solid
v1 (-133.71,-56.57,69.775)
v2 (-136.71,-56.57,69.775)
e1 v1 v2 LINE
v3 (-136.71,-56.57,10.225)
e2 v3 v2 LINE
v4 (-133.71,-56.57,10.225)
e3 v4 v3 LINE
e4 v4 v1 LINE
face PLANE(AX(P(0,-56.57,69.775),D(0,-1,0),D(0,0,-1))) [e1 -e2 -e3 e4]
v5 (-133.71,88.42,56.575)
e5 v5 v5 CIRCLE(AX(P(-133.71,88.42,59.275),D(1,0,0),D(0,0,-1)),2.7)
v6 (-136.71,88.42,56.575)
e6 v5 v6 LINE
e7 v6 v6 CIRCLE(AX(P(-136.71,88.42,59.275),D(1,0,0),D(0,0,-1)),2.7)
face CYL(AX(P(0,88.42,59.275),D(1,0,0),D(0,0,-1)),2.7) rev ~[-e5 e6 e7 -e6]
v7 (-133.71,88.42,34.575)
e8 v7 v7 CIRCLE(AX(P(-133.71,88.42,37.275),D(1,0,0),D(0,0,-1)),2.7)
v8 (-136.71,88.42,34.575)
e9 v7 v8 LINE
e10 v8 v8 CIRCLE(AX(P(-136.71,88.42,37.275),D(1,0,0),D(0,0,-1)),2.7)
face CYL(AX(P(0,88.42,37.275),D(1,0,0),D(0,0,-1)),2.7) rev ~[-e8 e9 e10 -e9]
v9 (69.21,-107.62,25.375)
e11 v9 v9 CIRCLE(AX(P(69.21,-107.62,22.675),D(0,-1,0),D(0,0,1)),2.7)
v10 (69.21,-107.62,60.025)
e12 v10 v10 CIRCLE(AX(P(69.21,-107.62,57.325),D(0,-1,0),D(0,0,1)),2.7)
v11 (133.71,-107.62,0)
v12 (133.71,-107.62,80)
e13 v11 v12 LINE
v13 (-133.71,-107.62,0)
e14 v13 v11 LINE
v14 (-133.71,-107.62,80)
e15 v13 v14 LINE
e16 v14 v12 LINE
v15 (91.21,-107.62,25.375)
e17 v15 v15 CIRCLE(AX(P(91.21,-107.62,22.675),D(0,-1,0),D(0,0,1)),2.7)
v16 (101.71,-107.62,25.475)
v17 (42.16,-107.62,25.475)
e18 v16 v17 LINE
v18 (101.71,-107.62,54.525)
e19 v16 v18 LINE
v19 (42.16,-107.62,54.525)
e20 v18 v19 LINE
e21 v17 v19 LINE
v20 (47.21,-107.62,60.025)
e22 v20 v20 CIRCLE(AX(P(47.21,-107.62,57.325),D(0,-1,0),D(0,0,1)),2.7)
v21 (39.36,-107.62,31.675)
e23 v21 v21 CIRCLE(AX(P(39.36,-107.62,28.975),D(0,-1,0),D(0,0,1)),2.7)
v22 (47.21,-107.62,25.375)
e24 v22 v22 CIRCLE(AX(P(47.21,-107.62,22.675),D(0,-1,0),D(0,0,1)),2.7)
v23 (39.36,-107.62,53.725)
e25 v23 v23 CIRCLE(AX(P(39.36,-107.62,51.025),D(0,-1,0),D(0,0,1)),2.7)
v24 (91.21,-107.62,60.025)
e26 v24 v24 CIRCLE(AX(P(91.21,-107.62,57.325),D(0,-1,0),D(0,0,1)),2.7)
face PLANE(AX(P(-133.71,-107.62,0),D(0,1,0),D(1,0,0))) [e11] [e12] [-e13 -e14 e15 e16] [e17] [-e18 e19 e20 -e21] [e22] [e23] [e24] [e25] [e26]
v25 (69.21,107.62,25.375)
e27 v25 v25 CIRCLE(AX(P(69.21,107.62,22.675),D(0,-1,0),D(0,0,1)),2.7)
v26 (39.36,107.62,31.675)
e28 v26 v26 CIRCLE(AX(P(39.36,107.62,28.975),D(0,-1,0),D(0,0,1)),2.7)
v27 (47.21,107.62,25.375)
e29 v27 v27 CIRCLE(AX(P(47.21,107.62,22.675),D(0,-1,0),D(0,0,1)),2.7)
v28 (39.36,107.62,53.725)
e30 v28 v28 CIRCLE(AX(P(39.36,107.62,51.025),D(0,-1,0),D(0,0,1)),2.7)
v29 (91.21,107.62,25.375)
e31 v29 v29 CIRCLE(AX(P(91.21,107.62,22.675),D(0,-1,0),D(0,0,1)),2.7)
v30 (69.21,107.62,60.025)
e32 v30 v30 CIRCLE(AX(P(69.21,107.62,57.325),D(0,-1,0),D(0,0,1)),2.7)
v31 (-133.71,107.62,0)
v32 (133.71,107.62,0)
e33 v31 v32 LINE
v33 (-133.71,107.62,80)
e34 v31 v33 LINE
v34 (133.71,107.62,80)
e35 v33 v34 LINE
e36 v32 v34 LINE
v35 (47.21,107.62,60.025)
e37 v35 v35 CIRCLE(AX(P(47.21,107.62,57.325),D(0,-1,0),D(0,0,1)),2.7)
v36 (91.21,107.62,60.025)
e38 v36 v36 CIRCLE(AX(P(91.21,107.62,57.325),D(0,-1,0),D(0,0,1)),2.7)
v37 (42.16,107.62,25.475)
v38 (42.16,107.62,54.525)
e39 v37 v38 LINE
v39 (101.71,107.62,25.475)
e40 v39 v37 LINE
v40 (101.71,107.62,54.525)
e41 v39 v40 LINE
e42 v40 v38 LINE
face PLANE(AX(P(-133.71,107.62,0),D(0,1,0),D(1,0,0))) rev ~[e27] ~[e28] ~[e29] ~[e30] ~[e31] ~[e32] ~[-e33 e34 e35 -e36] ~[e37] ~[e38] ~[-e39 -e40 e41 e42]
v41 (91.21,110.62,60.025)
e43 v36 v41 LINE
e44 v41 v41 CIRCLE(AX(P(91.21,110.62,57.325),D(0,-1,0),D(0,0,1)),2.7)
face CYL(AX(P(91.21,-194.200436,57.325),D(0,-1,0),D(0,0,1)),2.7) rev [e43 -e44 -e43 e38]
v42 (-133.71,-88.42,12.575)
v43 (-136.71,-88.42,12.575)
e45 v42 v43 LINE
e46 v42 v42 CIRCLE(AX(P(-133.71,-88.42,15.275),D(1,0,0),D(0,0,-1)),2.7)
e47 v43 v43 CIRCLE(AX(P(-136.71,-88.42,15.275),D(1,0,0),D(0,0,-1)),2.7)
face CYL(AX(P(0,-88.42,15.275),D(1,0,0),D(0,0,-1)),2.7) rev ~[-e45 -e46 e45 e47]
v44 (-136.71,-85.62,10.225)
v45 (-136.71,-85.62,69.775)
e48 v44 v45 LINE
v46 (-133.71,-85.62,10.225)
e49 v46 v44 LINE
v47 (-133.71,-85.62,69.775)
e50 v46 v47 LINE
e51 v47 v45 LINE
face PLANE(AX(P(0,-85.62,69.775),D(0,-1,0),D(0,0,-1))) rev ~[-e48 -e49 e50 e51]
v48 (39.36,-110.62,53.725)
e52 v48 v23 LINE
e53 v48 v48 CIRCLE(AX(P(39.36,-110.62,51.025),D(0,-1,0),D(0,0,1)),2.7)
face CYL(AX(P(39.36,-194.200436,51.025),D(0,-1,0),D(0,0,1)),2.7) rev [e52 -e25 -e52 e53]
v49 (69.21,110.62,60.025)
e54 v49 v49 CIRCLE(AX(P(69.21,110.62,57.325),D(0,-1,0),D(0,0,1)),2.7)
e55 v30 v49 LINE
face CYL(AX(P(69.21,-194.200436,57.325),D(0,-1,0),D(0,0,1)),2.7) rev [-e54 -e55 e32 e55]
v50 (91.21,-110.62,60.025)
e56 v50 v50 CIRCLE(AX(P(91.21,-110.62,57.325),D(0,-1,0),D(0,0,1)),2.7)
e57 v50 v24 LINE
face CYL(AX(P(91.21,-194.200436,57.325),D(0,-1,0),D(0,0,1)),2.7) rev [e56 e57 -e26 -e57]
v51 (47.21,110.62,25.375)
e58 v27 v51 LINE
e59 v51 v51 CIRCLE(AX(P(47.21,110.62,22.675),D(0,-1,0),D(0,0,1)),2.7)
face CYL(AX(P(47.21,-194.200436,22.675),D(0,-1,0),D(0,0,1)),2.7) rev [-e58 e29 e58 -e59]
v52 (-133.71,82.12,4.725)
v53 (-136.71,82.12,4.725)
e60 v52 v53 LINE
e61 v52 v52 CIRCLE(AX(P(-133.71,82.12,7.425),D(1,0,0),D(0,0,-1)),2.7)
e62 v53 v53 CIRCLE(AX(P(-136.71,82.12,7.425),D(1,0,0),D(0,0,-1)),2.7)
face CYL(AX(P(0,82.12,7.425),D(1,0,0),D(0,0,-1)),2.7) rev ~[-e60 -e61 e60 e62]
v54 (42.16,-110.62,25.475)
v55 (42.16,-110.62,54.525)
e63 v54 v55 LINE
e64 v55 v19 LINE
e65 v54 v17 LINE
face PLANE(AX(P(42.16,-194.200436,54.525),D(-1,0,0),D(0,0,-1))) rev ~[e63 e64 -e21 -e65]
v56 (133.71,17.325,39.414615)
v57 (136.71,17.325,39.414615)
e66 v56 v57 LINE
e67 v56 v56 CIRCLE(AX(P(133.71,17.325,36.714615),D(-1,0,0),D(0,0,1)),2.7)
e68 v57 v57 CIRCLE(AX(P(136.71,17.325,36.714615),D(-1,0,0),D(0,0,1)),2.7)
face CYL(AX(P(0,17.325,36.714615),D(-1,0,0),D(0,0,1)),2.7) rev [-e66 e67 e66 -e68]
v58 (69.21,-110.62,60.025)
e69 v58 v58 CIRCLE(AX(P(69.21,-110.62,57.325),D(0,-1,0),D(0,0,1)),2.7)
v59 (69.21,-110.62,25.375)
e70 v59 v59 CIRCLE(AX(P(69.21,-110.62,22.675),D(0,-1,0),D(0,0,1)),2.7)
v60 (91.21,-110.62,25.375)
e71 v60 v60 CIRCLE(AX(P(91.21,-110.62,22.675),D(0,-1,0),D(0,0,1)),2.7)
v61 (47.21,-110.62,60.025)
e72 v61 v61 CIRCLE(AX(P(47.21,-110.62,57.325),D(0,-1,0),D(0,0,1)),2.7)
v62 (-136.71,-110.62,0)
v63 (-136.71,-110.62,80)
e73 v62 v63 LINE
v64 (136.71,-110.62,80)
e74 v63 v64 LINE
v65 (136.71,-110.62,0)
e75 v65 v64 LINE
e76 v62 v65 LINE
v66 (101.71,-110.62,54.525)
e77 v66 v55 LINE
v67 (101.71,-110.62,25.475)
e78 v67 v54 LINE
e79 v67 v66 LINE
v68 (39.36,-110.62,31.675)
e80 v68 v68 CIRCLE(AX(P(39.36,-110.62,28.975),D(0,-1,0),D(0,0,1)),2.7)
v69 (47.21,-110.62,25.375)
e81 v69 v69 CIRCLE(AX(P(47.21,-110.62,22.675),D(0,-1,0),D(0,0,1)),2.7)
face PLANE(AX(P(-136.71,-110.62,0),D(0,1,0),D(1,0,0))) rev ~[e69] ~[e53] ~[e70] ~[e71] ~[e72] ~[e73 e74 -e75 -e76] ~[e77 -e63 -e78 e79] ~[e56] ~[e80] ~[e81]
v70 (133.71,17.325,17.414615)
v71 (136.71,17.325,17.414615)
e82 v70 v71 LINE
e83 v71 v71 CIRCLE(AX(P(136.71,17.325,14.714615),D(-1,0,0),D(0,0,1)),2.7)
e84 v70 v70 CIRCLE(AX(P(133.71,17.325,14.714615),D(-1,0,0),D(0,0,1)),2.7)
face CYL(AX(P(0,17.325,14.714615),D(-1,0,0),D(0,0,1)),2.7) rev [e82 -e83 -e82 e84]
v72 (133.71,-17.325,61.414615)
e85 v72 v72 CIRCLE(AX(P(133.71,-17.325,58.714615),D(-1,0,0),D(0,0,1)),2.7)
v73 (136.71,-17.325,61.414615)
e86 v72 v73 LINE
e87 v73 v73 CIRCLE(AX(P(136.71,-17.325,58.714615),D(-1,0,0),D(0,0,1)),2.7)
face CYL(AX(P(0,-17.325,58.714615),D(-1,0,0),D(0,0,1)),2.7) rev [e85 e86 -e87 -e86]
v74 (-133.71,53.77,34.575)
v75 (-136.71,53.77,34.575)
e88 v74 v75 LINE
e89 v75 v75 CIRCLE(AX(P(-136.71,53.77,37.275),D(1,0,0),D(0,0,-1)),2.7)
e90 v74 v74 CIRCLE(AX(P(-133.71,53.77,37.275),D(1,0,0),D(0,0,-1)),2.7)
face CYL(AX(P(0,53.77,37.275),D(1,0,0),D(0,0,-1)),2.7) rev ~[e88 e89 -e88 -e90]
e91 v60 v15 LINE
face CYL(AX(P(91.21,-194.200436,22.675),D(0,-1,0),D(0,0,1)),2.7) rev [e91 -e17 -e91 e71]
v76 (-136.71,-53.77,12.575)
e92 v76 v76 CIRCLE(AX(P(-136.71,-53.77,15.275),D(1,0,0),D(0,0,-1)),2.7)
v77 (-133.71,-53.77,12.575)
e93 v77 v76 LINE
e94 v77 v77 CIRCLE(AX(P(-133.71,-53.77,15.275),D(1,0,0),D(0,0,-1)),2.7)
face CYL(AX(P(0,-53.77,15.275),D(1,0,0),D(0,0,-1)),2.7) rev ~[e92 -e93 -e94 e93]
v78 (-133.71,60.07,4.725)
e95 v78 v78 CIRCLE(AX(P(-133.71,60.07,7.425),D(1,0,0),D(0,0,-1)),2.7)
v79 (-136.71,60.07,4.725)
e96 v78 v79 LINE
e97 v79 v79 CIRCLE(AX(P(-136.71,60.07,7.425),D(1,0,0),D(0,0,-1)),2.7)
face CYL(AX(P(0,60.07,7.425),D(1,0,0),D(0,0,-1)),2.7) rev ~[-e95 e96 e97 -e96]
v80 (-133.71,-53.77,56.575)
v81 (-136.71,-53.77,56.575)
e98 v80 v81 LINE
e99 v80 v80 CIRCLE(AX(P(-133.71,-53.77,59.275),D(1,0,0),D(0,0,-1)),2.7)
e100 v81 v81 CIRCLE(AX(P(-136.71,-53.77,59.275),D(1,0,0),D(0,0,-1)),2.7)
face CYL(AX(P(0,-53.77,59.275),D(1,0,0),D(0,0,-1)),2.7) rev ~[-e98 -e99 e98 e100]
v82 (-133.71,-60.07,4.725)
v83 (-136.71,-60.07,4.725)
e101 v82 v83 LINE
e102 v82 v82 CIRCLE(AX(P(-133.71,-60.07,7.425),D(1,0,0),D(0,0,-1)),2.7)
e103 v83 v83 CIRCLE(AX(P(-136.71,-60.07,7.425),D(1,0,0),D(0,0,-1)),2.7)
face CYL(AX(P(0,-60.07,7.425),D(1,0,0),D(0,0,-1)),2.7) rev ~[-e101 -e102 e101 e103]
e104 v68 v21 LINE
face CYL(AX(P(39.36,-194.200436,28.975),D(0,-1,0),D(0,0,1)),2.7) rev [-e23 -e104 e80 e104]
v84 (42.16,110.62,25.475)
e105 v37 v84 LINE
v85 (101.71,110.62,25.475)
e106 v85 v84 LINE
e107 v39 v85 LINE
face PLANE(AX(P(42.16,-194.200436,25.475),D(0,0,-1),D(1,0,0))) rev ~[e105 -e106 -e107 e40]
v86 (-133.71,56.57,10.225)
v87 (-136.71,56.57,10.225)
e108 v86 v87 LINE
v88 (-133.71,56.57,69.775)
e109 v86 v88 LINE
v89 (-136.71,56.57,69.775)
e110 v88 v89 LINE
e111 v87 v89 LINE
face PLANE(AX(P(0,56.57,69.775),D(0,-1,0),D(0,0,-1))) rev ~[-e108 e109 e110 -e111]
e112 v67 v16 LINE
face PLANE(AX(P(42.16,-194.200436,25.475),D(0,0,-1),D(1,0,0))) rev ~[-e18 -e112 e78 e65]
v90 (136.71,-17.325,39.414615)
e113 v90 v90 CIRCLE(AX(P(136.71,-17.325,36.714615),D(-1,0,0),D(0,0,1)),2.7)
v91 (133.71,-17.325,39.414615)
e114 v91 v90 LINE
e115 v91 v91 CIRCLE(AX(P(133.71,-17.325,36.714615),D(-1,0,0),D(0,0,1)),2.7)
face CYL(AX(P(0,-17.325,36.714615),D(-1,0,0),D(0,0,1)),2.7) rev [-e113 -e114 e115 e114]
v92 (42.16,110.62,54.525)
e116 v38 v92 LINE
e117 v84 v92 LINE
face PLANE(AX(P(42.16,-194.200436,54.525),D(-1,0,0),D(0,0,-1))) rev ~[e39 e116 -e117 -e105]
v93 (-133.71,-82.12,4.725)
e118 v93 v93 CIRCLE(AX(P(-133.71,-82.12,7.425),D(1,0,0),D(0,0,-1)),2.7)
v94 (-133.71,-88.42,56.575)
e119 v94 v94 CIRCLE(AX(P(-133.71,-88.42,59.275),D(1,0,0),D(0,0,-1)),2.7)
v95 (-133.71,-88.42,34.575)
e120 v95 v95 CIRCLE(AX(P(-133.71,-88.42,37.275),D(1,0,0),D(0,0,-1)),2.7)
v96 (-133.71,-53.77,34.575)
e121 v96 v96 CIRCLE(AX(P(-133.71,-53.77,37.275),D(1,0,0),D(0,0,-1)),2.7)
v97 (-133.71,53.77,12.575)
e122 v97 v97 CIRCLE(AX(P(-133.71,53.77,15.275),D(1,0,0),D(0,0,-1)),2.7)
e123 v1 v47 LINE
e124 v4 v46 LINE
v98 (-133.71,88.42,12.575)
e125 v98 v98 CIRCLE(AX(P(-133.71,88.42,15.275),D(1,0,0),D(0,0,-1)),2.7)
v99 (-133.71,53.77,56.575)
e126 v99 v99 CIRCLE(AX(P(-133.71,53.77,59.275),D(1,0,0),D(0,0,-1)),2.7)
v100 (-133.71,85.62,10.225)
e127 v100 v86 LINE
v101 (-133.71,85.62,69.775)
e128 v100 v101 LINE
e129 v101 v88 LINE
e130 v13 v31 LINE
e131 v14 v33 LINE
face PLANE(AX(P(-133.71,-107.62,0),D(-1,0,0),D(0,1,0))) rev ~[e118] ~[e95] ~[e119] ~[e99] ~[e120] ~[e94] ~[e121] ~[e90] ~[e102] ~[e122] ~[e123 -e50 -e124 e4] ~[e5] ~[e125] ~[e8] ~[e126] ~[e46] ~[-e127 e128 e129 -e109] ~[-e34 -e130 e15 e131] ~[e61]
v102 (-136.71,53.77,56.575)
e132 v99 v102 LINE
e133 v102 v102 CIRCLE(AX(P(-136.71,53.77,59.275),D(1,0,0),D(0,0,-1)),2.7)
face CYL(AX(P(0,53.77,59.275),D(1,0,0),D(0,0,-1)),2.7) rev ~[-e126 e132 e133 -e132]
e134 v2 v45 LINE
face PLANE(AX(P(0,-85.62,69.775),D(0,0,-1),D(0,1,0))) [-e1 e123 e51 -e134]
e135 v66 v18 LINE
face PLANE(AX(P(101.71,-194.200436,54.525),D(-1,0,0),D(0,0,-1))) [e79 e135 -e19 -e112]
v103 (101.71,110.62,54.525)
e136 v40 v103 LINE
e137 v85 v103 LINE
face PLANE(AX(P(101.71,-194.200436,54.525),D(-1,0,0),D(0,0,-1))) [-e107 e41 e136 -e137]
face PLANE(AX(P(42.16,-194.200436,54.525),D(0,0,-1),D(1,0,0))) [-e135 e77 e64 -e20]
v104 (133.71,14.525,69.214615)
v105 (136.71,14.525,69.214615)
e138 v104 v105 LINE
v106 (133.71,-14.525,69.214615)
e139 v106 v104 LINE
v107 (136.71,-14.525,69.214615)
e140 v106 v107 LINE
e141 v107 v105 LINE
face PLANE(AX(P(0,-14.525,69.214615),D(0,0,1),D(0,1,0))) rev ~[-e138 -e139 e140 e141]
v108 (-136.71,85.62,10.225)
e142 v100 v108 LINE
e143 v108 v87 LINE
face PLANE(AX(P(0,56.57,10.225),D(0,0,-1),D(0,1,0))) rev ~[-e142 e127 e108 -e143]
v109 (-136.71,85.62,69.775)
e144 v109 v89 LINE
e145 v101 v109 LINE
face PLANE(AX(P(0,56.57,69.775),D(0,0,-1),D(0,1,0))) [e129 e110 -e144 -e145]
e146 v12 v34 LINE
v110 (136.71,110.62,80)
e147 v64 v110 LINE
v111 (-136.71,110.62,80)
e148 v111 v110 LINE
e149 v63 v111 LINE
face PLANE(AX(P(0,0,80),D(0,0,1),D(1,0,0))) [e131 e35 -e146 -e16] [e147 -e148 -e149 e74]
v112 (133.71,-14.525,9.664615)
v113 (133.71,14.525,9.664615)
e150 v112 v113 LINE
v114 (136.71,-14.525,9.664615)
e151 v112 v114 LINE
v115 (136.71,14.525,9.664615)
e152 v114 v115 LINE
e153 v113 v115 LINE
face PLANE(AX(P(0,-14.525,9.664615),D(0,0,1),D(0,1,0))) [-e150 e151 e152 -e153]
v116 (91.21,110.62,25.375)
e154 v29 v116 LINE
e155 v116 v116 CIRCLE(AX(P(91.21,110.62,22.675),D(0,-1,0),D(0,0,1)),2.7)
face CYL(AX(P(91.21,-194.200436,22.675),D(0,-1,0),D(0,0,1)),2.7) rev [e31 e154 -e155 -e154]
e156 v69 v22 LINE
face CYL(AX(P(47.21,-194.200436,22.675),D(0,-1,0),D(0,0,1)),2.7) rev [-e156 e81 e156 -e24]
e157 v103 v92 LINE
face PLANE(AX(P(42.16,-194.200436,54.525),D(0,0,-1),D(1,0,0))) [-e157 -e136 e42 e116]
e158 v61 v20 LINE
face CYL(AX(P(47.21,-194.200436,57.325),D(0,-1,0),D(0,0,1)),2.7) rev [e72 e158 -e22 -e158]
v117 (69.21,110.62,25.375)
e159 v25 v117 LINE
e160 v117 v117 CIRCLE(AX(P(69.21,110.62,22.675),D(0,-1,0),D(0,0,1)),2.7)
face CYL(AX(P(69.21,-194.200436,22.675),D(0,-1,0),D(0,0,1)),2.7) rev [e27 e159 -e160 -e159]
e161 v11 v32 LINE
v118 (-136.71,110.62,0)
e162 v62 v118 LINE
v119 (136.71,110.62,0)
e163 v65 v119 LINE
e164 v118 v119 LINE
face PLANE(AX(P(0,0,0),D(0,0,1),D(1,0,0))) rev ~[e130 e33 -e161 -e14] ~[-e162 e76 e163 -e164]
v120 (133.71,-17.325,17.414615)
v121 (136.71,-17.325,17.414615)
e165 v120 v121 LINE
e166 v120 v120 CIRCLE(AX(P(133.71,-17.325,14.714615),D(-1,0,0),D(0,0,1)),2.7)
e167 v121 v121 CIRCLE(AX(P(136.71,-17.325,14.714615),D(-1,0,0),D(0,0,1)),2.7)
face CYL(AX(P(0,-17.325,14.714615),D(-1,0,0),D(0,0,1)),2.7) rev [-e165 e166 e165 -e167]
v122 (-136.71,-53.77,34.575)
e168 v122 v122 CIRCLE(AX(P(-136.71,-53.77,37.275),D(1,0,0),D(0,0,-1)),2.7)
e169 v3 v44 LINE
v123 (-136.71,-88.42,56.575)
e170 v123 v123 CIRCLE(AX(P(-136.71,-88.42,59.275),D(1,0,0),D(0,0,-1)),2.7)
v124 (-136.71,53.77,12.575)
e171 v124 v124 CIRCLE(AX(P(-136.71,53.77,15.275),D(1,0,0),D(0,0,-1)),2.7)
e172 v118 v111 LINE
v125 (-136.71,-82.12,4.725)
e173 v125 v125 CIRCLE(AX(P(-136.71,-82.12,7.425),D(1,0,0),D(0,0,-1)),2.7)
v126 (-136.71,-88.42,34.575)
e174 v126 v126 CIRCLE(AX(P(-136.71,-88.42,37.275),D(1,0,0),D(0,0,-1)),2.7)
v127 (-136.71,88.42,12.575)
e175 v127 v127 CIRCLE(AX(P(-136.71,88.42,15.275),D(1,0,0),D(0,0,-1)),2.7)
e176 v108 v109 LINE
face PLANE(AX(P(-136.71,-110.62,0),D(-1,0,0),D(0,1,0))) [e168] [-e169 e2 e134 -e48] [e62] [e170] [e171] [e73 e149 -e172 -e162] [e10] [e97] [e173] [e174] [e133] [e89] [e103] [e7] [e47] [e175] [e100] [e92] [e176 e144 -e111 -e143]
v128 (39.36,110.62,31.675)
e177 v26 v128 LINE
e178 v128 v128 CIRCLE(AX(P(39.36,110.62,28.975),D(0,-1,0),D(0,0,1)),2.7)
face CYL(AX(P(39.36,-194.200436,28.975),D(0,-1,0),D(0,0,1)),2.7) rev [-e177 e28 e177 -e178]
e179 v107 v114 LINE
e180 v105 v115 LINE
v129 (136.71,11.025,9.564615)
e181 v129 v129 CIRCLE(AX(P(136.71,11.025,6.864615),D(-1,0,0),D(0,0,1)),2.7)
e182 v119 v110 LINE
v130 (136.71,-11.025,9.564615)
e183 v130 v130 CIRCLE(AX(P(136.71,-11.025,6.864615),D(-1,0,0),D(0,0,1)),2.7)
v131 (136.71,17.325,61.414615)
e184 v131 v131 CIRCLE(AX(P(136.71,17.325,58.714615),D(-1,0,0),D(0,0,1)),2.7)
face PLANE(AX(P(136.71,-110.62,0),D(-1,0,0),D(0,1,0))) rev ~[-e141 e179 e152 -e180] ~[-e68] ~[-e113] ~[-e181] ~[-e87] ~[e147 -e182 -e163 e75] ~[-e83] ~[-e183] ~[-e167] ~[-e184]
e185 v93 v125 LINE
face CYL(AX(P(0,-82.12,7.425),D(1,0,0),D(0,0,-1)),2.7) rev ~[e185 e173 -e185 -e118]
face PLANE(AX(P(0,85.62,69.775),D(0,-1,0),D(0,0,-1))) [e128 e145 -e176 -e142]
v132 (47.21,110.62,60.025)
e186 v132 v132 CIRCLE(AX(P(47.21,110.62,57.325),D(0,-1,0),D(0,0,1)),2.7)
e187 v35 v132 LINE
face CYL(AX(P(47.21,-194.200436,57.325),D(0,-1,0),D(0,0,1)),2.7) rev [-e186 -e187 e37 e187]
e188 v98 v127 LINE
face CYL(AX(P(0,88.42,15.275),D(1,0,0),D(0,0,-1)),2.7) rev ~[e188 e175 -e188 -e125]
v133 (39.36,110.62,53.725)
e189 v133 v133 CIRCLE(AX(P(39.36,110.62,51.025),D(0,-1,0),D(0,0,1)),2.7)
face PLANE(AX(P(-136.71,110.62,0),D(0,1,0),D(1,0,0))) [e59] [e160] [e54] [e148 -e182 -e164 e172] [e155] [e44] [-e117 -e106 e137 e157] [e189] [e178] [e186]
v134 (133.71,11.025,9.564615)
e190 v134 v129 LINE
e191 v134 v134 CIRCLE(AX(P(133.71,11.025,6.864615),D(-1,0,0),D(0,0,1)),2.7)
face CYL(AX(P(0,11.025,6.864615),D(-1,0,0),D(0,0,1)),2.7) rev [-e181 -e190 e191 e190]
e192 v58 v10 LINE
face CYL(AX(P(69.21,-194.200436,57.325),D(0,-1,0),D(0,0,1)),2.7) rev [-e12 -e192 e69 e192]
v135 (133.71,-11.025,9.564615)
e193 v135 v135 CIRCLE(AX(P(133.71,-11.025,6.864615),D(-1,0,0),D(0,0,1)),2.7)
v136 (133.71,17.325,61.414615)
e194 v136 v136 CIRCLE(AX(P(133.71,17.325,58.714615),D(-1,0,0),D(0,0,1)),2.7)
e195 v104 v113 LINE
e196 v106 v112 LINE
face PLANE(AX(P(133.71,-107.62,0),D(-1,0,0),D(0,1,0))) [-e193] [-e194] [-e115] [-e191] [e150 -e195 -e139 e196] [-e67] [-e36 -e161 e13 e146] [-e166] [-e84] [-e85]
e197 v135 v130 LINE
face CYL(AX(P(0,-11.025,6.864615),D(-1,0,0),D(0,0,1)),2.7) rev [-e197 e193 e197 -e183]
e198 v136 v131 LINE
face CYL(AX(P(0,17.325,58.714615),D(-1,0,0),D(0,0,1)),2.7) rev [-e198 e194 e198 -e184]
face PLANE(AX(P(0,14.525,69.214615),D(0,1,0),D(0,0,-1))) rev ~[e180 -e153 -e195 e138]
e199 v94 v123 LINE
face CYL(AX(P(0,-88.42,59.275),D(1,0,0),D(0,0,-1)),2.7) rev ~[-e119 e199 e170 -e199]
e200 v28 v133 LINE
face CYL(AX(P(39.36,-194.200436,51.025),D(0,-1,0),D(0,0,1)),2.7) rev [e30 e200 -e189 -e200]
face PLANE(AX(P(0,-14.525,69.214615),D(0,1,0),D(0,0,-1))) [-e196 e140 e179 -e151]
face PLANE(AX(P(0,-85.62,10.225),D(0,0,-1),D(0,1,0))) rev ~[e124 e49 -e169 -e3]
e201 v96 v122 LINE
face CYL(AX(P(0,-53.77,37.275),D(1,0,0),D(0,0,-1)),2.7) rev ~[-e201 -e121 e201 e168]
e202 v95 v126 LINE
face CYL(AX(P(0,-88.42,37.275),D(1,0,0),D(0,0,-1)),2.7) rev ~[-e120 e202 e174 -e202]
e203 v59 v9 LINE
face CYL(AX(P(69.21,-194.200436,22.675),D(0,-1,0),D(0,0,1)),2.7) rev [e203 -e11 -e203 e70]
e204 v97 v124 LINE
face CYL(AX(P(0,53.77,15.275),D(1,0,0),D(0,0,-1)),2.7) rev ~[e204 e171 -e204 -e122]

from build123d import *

# Parameters (mm, degrees)
ESBO_O2_W                  = 273.42
ESBO_O2_H                  = 221.24
RESSALTO_EXTRUS_O1_DEPTH   = 80
ESBO_O3_W                  = 267.42
ESBO_O3_H                  = 215.24
CORTE_EXTRUS_O1_DEPTH      = 80
ESBO_O4_W                  = 59.55
ESBO_O4_H                  = 29.05
CORTE_EXTRUS_O3_DEPTH      = 194.200436076
ESBO_O5_W                  = 59.55
ESBO_O5_H                  = 29.05
CORTE_EXTRUS_O4_DEPTH      = 194.200436076
CORTE_EXTRUS_O5_DEPTH      = 194.200436076
CORTE_EXTRUS_O5_DEPTH_BACK = 194.200436076
ESBO_O6_W                  = 59.55
ESBO_O6_H                  = 29.05
CORTE_EXTRUS_O6_DEPTH      = 194.200436076
CORTE_EXTRUS_O6_DEPTH_BACK = 194.200436076
ESBO_O7_R                  = 2.7
ESBO_O8_R                  = 2.7
CORTE_EXTRUS_O7_DEPTH      = 194.200436076
ESBO_O9_R                  = 2.7
CORTE_EXTRUS_O8_DEPTH      = 194.200436076


with BuildPart() as part:
    # Esboço2 → Ressalto-extrusão1 (new body)
    with BuildSketch(Plane.XY):
        Rectangle(ESBO_O2_W, ESBO_O2_H)
    extrude(amount=RESSALTO_EXTRUS_O1_DEPTH)

    # Esboço3 → Corte-extrusão1 (cut)
    with BuildSketch(Plane.XY):
        Rectangle(ESBO_O3_W, ESBO_O3_H)
    extrude(amount=CORTE_EXTRUS_O1_DEPTH, mode=Mode.SUBTRACT)

    # Esboço4 → Corte-extrusão3 (cut, through all)
    with BuildSketch(Plane(origin=(0, 0, 0), x_dir=(0, 0, -1), z_dir=(1, 0, 0))):
        with Locations((-39.439615286, 0)):
            Rectangle(ESBO_O4_W, ESBO_O4_H)
    extrude(amount=CORTE_EXTRUS_O3_DEPTH, mode=Mode.SUBTRACT)

    # Esboço5 → Corte-extrusão4 (cut, through all)
    with BuildSketch(Plane(origin=(0, 0, 0), x_dir=(0, 0, -1), z_dir=(1, 0, 0))):
        with Locations((-40, 71.095)):
            Rectangle(ESBO_O5_W, ESBO_O5_H)
        with Locations((-40, -71.095)):
            Rectangle(ESBO_O5_W, ESBO_O5_H)
    extrude(amount=-CORTE_EXTRUS_O4_DEPTH, mode=Mode.SUBTRACT)

    # Esboço6 → Corte-extrusão5 (cut, two sides: drawn at the far end of the back side and taken through both)
    with BuildSketch(Plane(origin=(0, 0, 0), x_dir=(1, 0, 0), z_dir=(0, 1, 0)).offset(-CORTE_EXTRUS_O5_DEPTH_BACK)):
        with Locations((71.935, -40)):
            Rectangle(ESBO_O6_W, ESBO_O6_H)
    extrude(amount=CORTE_EXTRUS_O5_DEPTH + CORTE_EXTRUS_O5_DEPTH_BACK, mode=Mode.SUBTRACT)

    # Esboço7 → Corte-extrusão6 (cut, two sides: drawn at the far end of the back side and taken through both)
    with BuildSketch(Plane(origin=(0, 0, 0), x_dir=(1, 0, 0), z_dir=(0, 1, 0)).offset(-CORTE_EXTRUS_O6_DEPTH_BACK)):
        with Locations(Location((91.21, -22.675, 0), (0, 0, 270))):
            Circle(ESBO_O7_R)
        with Locations(Location((69.21, -22.675, 0), (0, 0, 270))):
            Circle(ESBO_O7_R)
        with Locations(Location((47.21, -22.675, 0), (0, 0, 270))):
            Circle(ESBO_O7_R)
        with Locations(Location((91.21, -57.325, 0), (0, 0, 270))):
            Circle(ESBO_O7_R)
        with Locations(Location((69.21, -57.325, 0), (0, 0, 270))):
            Circle(ESBO_O7_R)
        with Locations(Location((47.21, -57.325, 0), (0, 0, 270))):
            Circle(ESBO_O7_R)
        with Locations(Location((39.36, -28.975, 0), (0, 0, 270))):
            Circle(ESBO_O7_R)
        with Locations(Location((39.36, -51.025, 0), (0, 0, 270))):
            Circle(ESBO_O7_R)
    extrude(amount=CORTE_EXTRUS_O6_DEPTH + CORTE_EXTRUS_O6_DEPTH_BACK, mode=Mode.SUBTRACT)

    # Esboço8 → Corte-extrusão7 (cut, through all)
    with BuildSketch(Plane(origin=(0, 0, 0), x_dir=(0, 0, -1), z_dir=(1, 0, 0))):
        with Locations((-59.275, -88.42)):
            Circle(ESBO_O8_R)
        with Locations((-37.275, -88.42)):
            Circle(ESBO_O8_R)
        with Locations((-15.275, -88.42)):
            Circle(ESBO_O8_R)
        with Locations((-15.275, -53.77)):
            Circle(ESBO_O8_R)
        with Locations((-37.275, -53.77)):
            Circle(ESBO_O8_R)
        with Locations((-59.275, -53.77)):
            Circle(ESBO_O8_R)
        with Locations((-7.425, -82.12)):
            Circle(ESBO_O8_R)
        with Locations((-7.425, -60.07)):
            Circle(ESBO_O8_R)
        with Locations((-59.275, 53.77)):
            Circle(ESBO_O8_R)
        with Locations((-37.275, 53.77)):
            Circle(ESBO_O8_R)
        with Locations((-15.275, 53.77)):
            Circle(ESBO_O8_R)
        with Locations((-7.425, 60.07)):
            Circle(ESBO_O8_R)
        with Locations((-7.425, 82.12)):
            Circle(ESBO_O8_R)
        with Locations((-15.275, 88.42)):
            Circle(ESBO_O8_R)
        with Locations((-37.275, 88.42)):
            Circle(ESBO_O8_R)
        with Locations((-59.275, 88.42)):
            Circle(ESBO_O8_R)
    extrude(amount=-CORTE_EXTRUS_O7_DEPTH, mode=Mode.SUBTRACT)

    # Esboço9 → Corte-extrusão8 (cut, through all)
    with BuildSketch(Plane(origin=(0, 0, 0), x_dir=(0, 0, -1), z_dir=(1, 0, 0))):
        with Locations(Location((-58.714615286, 17.325, 0), (0, 0, 180))):
            Circle(ESBO_O9_R)
        with Locations(Location((-36.714615286, 17.325, 0), (0, 0, 180))):
            Circle(ESBO_O9_R)
        with Locations(Location((-14.714615286, 17.325, 0), (0, 0, 180))):
            Circle(ESBO_O9_R)
        with Locations(Location((-14.714615286, -17.325, 0), (0, 0, 180))):
            Circle(ESBO_O9_R)
        with Locations(Location((-36.714615286, -17.325, 0), (0, 0, 180))):
            Circle(ESBO_O9_R)
        with Locations(Location((-58.714615286, -17.325, 0), (0, 0, 180))):
            Circle(ESBO_O9_R)
        with Locations(Location((-6.864615286, 11.025, 0), (0, 0, 180))):
            Circle(ESBO_O9_R)
        with Locations(Location((-6.864615286, -11.025, 0), (0, 0, 180))):
            Circle(ESBO_O9_R)
    extrude(amount=CORTE_EXTRUS_O8_DEPTH, mode=Mode.SUBTRACT)


solid = part.part
